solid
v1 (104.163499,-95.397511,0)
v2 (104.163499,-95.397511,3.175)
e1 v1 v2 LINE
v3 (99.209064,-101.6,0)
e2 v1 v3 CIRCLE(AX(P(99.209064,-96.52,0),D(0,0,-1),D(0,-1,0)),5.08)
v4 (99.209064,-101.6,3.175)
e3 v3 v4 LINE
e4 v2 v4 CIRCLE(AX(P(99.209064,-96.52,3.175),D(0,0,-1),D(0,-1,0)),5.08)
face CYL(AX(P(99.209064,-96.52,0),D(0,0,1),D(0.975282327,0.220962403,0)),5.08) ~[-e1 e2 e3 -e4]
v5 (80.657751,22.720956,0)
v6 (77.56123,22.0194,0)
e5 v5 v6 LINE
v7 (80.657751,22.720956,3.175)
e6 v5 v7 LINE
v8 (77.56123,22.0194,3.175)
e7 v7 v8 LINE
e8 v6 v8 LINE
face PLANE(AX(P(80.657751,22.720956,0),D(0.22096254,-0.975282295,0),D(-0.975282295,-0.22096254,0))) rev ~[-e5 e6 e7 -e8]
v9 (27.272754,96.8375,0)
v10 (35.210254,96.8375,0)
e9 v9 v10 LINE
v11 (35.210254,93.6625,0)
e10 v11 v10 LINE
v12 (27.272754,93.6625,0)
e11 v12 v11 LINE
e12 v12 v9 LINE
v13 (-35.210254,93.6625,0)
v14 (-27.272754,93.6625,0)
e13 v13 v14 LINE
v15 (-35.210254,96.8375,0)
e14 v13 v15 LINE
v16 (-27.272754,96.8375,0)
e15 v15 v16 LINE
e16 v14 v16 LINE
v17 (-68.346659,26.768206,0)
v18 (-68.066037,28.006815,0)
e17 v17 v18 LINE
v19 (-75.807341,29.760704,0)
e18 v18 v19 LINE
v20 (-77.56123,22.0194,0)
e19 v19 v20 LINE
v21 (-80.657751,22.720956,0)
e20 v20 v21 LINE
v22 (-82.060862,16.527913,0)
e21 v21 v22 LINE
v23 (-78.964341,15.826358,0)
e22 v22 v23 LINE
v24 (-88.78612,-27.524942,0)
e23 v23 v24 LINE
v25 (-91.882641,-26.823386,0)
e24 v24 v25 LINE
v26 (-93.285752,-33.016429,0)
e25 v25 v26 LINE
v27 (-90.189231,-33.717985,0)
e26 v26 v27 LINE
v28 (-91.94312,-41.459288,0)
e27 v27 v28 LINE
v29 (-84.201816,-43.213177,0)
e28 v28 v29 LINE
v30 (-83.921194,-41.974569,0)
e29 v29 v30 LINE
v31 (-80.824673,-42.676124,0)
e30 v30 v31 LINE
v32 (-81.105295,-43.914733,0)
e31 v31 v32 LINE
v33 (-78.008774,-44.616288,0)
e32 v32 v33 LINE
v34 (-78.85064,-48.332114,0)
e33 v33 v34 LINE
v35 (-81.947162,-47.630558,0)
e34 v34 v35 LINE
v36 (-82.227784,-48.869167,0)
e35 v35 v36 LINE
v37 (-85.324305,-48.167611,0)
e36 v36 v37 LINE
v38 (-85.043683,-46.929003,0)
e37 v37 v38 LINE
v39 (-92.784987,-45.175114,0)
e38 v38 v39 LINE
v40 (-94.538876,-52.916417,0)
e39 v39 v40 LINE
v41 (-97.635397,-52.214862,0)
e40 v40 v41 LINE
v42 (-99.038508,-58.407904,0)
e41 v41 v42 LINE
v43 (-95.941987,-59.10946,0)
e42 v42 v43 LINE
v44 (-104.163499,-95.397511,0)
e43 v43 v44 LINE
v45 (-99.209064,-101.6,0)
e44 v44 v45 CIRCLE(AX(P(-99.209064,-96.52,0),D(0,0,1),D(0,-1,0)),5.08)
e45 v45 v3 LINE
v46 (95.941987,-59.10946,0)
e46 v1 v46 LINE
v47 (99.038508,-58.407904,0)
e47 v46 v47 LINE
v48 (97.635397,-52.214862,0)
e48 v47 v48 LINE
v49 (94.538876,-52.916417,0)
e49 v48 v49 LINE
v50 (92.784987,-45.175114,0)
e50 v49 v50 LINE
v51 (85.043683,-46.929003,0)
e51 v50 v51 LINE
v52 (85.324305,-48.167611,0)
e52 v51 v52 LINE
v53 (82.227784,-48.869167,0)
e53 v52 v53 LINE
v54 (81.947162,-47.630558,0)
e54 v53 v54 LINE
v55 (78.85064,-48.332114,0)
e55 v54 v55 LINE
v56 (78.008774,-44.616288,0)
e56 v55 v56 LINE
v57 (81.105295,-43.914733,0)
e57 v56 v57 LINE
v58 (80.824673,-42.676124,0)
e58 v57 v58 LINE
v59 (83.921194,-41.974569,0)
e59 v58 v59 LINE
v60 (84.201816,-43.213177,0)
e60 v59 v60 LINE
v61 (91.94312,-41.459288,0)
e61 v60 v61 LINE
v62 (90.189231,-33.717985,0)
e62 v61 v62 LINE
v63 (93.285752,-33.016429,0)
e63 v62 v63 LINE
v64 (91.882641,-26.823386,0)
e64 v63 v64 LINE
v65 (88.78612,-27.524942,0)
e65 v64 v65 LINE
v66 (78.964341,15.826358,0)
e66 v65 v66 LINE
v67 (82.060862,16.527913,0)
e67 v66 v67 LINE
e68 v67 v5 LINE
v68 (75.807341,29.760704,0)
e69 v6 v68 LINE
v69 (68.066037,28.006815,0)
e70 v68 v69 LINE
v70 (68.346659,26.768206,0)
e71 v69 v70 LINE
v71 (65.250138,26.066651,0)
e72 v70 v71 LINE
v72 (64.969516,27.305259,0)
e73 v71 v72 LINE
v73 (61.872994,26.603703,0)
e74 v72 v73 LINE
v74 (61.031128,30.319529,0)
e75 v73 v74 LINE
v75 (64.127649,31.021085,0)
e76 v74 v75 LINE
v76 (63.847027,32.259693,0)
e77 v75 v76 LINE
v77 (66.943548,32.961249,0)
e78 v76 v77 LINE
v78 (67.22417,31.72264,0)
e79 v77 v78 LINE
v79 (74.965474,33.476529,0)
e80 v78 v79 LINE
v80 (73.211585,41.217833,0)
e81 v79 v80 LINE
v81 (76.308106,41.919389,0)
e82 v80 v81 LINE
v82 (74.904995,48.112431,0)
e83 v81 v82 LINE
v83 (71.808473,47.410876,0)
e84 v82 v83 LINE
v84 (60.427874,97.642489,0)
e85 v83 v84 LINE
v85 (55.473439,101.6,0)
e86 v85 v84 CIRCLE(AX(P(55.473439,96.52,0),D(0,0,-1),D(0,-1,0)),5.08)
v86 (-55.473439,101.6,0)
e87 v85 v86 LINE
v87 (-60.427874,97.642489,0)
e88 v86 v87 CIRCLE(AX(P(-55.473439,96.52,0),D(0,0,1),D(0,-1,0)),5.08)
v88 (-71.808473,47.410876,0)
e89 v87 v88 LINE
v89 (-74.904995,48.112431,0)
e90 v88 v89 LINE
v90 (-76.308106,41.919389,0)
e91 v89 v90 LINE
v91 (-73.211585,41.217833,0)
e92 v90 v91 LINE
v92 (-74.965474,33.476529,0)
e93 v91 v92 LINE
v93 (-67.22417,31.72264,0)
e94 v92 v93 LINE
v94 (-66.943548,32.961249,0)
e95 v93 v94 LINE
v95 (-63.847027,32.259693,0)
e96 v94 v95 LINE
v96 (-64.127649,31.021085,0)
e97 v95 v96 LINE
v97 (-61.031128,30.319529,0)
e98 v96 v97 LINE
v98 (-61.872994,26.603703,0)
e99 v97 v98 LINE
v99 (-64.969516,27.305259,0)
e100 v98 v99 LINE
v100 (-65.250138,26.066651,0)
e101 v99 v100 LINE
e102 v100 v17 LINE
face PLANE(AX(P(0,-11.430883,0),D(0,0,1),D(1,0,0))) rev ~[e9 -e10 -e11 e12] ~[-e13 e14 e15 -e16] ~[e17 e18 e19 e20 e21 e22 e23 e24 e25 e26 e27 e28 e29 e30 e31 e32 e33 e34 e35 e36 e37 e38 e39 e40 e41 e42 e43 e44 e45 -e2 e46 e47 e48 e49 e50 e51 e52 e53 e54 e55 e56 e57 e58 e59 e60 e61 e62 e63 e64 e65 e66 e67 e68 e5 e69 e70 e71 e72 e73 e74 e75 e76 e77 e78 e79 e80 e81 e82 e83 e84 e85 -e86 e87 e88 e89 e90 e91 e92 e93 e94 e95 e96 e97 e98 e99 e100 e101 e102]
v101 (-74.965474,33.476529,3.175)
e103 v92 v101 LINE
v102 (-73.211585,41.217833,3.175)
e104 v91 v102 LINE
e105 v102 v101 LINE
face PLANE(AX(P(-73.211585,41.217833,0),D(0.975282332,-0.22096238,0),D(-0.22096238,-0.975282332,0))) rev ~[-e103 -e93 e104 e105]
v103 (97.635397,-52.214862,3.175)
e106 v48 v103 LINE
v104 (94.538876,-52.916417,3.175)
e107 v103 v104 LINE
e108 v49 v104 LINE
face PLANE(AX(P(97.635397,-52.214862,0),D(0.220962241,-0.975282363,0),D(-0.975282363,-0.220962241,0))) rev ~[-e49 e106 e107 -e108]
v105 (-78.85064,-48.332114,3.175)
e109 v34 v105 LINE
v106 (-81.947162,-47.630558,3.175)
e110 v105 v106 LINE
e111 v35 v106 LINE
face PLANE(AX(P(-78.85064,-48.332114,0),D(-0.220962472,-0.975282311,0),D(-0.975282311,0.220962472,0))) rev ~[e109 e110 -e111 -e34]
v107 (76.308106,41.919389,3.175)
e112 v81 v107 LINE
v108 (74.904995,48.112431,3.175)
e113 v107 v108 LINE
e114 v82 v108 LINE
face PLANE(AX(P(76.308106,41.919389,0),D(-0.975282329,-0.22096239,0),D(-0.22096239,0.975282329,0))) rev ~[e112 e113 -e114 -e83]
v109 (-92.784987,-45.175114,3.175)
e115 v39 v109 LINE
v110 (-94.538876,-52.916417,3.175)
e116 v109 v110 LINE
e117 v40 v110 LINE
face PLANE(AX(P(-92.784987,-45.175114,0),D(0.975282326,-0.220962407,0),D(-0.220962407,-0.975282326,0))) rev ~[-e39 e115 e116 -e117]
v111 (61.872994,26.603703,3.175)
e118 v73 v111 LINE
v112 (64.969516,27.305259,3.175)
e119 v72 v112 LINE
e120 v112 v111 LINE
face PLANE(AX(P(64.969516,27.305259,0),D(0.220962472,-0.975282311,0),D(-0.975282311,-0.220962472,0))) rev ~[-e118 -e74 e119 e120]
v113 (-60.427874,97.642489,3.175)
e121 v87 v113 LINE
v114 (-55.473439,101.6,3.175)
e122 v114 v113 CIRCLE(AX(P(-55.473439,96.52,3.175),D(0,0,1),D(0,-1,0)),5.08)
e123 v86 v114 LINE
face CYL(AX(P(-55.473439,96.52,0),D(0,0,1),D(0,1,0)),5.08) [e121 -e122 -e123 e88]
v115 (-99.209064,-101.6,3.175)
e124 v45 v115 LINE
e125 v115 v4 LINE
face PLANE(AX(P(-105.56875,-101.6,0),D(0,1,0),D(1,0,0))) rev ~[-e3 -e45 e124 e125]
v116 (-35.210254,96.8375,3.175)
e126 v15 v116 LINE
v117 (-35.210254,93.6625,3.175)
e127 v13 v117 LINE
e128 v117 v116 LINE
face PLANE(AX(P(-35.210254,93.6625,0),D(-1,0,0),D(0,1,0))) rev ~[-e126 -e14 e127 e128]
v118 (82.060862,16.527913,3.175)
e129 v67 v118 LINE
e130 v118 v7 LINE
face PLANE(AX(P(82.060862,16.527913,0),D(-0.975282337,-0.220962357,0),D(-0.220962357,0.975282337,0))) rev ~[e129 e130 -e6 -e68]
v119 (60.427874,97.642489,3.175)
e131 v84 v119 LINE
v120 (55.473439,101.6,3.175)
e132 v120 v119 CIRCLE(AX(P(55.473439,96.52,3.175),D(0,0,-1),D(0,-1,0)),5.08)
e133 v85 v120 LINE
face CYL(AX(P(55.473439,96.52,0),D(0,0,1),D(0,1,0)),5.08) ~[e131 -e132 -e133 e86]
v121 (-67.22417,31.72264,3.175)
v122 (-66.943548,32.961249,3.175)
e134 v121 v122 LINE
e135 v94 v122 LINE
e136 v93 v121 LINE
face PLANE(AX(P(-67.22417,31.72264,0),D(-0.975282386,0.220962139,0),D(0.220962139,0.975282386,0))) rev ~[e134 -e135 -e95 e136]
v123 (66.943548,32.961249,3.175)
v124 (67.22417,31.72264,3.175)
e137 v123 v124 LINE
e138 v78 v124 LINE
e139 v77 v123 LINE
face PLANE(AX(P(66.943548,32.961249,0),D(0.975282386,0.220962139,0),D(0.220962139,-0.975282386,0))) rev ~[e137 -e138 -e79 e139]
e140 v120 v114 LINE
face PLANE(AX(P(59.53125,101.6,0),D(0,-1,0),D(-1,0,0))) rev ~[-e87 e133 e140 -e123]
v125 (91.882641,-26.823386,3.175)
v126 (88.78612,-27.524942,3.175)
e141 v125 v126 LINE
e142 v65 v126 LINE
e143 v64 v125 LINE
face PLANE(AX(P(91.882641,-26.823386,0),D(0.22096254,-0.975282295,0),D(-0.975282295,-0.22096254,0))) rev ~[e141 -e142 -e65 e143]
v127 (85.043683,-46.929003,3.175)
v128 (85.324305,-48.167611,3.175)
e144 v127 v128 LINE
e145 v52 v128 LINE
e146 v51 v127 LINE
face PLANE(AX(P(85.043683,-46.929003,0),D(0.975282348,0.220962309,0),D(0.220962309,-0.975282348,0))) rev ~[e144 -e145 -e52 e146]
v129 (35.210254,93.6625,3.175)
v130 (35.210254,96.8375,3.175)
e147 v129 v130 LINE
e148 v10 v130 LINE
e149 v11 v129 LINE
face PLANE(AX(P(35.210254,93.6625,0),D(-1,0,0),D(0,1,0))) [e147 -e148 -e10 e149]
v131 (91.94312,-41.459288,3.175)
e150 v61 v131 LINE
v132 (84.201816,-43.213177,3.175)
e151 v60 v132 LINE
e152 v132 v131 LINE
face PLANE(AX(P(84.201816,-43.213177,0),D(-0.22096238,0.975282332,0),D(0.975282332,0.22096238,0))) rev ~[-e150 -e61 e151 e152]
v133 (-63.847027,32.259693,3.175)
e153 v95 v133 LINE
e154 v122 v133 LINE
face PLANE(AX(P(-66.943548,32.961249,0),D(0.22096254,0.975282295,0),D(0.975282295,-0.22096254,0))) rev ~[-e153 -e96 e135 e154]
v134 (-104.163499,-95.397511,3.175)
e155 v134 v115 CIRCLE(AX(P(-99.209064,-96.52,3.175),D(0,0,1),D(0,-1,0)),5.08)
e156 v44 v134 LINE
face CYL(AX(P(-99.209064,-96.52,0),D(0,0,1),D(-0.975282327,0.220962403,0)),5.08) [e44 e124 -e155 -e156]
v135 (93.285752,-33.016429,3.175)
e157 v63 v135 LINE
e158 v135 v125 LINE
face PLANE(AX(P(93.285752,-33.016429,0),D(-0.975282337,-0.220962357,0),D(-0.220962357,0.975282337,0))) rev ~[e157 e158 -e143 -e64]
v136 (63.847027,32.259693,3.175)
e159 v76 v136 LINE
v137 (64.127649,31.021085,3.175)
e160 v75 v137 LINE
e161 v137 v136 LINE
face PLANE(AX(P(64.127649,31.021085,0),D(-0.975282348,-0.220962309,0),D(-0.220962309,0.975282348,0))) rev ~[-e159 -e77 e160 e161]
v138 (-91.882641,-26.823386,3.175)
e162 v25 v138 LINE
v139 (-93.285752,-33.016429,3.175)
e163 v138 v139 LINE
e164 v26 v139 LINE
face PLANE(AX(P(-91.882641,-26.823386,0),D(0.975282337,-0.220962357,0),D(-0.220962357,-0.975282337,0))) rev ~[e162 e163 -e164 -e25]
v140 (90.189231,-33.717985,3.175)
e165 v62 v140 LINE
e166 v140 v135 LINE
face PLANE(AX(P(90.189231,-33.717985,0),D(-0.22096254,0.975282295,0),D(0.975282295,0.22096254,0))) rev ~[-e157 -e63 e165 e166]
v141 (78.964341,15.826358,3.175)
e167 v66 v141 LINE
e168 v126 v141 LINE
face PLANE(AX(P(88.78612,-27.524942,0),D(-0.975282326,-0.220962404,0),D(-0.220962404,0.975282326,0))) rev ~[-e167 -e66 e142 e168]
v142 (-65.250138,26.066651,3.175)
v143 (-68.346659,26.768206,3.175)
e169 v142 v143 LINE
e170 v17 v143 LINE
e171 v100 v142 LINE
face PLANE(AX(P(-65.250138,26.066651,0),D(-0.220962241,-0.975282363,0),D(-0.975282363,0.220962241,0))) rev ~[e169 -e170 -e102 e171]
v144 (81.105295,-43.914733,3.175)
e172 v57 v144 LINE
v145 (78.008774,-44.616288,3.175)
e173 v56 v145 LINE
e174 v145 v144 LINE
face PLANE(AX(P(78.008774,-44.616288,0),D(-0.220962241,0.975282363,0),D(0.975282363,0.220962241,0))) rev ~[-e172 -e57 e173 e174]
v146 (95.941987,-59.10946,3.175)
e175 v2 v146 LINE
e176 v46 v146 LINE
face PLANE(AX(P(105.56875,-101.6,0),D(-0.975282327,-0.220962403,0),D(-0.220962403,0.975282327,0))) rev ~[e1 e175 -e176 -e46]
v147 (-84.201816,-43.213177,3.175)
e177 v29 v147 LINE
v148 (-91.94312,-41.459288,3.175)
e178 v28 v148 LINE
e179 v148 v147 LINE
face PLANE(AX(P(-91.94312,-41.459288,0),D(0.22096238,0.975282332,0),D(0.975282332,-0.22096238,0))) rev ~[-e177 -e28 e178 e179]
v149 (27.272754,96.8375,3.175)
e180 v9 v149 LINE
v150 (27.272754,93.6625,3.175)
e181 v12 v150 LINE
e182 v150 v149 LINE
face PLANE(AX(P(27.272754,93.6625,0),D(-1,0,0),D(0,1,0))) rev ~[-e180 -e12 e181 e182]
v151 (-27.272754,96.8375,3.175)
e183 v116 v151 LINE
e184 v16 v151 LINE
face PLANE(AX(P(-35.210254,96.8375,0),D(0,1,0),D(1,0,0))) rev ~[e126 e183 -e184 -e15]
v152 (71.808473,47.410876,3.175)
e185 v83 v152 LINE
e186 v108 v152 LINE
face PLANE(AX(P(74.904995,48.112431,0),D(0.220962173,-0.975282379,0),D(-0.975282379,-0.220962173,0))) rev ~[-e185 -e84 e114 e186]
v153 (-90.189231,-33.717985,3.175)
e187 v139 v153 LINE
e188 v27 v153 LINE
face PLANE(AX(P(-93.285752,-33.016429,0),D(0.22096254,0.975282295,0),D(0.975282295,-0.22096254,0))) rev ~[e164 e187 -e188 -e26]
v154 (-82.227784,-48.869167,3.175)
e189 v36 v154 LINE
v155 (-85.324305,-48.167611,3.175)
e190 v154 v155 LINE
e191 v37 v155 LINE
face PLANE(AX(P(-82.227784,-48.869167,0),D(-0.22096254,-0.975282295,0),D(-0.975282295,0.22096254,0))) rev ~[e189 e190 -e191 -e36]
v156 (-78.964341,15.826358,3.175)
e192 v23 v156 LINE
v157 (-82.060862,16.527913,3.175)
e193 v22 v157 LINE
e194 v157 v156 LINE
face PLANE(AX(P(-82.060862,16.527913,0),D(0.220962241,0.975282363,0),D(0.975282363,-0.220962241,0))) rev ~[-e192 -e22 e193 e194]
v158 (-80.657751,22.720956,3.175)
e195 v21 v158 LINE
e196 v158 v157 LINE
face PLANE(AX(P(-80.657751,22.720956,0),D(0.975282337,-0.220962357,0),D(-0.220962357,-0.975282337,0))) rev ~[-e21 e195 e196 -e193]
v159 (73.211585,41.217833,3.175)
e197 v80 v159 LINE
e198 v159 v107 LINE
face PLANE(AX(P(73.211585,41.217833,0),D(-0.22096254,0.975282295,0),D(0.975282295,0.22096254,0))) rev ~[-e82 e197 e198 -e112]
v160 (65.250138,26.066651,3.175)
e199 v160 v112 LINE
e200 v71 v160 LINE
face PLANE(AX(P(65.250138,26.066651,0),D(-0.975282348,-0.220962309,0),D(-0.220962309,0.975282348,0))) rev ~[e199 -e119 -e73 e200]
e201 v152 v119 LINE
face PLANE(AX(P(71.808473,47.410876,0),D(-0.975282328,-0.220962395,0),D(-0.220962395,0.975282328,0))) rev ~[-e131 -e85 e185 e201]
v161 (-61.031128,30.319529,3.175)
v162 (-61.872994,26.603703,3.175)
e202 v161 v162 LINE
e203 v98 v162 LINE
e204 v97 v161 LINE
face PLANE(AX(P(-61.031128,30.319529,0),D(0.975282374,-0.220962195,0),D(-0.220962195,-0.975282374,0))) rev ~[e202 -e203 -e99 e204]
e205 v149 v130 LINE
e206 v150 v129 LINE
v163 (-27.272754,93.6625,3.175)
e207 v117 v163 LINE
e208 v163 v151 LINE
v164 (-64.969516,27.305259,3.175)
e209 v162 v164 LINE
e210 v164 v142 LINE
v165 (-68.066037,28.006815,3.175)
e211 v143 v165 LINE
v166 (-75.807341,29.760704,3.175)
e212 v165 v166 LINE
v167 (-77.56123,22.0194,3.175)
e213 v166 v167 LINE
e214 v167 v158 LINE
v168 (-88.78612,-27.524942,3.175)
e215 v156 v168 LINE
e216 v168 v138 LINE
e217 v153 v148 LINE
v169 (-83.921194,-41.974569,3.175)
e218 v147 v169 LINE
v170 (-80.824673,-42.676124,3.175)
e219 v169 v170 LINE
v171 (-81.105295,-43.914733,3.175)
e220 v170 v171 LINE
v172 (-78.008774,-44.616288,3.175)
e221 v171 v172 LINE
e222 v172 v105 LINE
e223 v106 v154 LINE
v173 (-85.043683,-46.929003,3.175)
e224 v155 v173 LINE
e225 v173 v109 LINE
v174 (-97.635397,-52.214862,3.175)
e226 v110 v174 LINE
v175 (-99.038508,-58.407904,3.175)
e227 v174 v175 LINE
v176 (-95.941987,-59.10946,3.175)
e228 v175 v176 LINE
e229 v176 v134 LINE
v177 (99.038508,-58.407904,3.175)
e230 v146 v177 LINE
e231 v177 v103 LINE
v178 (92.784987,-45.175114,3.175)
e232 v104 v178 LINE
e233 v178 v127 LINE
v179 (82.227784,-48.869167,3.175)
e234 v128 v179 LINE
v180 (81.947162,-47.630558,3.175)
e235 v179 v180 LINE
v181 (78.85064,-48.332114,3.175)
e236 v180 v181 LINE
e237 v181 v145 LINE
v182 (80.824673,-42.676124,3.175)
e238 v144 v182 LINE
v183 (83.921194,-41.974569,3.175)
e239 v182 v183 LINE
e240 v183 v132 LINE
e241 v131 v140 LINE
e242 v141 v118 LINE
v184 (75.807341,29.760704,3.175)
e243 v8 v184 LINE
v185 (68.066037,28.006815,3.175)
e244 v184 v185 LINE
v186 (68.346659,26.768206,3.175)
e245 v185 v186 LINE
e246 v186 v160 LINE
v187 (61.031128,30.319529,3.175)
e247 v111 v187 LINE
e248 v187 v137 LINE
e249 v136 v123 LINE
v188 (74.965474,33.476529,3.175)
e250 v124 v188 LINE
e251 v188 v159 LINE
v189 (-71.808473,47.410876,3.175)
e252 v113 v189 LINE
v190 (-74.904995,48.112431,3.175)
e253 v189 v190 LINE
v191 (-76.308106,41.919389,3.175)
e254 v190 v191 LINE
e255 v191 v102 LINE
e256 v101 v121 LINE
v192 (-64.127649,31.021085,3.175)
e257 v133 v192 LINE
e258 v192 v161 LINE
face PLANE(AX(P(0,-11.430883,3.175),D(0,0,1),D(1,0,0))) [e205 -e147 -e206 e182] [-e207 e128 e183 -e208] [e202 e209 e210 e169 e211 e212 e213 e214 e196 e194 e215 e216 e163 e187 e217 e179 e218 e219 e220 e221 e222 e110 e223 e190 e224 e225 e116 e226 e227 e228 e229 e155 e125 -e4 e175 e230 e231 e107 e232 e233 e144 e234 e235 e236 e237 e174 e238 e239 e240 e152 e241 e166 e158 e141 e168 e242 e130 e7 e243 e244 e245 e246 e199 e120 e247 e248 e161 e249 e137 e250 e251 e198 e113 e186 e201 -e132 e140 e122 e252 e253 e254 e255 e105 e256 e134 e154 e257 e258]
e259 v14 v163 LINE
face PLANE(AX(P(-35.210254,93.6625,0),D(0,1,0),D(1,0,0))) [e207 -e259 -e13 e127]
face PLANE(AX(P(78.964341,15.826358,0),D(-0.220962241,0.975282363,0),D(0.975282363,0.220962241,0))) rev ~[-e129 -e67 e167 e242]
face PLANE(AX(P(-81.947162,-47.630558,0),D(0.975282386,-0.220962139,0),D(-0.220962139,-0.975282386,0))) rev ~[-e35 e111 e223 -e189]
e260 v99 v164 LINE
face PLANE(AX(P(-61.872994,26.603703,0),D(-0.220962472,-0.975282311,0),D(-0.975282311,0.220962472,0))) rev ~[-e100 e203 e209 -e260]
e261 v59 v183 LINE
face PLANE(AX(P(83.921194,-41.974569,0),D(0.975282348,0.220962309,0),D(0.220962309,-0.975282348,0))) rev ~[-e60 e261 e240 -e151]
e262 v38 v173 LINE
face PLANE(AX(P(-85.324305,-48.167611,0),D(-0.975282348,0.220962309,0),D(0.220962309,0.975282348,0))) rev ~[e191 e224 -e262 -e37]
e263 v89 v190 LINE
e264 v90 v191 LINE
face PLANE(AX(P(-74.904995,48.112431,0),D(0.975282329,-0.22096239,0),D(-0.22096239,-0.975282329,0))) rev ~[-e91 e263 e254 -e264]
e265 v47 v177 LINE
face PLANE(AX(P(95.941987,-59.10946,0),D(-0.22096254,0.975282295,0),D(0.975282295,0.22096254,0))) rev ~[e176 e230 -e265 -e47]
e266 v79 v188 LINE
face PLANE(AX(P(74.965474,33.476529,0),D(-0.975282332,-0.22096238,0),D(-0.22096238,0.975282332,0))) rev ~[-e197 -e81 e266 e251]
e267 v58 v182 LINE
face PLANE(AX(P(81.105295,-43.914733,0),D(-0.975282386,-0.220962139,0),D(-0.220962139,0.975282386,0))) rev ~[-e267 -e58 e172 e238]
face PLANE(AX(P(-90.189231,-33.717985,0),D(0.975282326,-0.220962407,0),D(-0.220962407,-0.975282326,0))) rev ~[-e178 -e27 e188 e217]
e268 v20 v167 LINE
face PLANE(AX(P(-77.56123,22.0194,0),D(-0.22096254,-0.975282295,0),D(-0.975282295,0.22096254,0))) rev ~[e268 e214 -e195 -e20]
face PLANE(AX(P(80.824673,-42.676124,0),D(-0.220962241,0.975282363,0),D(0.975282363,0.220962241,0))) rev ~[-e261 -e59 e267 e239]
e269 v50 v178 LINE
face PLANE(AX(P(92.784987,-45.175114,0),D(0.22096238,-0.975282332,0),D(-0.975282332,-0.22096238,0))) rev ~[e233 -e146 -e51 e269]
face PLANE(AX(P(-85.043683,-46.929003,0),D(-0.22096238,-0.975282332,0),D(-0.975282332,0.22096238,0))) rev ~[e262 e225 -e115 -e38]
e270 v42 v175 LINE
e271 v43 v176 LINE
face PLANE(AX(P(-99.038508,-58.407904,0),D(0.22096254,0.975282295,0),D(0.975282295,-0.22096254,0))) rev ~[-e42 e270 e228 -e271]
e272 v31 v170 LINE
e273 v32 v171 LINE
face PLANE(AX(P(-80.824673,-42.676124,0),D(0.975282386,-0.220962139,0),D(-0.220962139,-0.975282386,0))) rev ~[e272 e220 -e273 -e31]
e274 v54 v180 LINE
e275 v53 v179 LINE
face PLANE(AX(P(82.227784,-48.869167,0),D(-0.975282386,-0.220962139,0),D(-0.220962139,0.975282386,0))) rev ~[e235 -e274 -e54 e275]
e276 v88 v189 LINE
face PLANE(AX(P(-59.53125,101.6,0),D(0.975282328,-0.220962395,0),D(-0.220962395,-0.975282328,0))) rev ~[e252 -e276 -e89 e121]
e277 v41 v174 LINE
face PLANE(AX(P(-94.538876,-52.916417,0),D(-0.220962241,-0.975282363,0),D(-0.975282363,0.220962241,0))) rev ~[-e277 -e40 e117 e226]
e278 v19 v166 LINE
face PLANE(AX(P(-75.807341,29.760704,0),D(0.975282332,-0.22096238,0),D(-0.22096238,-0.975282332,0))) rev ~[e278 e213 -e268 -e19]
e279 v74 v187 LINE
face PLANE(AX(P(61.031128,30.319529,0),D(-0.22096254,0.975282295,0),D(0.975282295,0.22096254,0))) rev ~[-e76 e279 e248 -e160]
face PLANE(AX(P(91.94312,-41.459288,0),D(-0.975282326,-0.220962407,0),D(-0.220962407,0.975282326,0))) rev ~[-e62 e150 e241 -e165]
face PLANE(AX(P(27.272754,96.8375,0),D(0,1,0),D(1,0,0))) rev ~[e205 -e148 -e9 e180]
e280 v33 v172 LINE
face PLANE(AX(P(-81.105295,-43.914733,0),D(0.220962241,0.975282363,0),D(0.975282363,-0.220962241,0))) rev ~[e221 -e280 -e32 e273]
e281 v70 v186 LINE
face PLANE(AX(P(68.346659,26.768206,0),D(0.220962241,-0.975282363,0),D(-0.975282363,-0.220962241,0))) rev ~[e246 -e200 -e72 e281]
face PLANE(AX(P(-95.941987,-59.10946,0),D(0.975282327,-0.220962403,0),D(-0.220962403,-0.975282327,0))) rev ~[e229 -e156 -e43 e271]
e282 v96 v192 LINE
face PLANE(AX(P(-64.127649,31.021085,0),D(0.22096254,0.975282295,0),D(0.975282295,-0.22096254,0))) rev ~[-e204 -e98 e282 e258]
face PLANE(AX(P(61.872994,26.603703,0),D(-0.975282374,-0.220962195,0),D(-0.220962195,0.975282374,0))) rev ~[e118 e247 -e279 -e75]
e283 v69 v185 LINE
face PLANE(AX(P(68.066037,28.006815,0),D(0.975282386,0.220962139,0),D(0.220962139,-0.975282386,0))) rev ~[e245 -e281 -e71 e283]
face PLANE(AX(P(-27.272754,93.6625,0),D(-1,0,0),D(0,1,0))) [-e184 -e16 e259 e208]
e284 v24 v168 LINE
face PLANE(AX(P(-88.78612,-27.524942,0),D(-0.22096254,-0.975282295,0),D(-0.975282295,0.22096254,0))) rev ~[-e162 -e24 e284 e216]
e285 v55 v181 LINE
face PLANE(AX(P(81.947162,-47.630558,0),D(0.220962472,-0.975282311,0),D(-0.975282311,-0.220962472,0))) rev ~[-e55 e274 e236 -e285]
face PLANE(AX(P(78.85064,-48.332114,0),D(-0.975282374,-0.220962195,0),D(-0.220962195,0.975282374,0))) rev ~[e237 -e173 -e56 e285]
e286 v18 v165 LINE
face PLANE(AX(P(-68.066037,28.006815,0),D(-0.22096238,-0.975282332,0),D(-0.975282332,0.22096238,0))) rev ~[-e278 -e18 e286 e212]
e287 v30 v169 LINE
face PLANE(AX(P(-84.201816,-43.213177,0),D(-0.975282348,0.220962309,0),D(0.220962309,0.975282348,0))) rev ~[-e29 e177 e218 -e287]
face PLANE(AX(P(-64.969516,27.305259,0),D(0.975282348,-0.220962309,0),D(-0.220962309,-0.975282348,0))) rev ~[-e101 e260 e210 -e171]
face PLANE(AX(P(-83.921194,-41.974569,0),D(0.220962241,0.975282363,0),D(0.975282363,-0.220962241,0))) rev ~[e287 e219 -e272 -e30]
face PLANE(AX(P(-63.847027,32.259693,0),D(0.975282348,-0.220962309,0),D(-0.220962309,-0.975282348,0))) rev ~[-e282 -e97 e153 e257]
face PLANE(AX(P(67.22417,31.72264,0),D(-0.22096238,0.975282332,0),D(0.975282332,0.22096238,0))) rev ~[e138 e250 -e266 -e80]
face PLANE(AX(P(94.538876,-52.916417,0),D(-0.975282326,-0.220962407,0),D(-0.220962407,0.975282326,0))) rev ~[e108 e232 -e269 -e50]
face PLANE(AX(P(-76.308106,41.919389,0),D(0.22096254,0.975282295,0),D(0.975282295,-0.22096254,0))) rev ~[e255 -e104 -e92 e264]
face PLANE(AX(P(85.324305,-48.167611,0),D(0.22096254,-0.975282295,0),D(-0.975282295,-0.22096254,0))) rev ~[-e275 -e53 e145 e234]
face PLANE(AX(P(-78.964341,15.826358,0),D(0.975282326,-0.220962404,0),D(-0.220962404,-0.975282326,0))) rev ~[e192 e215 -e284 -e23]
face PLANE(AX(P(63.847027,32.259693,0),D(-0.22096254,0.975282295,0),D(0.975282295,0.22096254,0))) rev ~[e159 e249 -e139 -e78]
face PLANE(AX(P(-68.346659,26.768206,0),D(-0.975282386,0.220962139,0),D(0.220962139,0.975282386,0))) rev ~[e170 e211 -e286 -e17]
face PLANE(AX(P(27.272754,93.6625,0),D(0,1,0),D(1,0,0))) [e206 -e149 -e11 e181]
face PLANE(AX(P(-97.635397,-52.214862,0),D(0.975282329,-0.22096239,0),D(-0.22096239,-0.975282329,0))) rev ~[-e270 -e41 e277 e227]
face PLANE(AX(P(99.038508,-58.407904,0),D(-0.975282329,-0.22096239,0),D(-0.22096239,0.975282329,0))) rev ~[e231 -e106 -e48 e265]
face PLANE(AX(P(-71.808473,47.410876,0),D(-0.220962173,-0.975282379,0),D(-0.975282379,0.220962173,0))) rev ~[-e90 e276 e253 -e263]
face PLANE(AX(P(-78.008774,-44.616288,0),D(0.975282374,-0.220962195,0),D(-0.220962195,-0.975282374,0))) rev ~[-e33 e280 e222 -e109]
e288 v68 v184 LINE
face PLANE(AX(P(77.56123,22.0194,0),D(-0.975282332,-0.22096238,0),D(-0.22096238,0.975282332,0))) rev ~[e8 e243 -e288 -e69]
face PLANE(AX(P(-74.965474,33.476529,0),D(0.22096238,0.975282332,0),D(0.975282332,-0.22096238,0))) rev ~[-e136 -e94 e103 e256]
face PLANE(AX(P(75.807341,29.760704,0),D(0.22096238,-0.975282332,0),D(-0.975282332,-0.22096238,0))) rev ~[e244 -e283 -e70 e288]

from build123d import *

# Parameters (mm, degrees)
F0_W     = 7.9375
F0_H     = 3.175
F1_DEPTH = 3.175
F2_R     = 5.08


with BuildPart() as f1:
    # F0 (on Top) → F1 (new body)
    with BuildSketch(Plane.XY):
        Polygon((59.53125, 101.6), (-59.53125, 101.6), (-71.808473, 47.410876), (-74.904995, 48.112431), (-76.308106, 41.919389), (-73.211585, 41.217833), (-74.965474, 33.476529), (-67.22417, 31.72264), (-66.943548, 32.961249), (-63.847027, 32.259693), (-64.127649, 31.021085), (-61.031128, 30.319529), (-61.872994, 26.603703), (-64.969516, 27.305259), (-65.250138, 26.066651), (-68.346659, 26.768206), (-68.066037, 28.006815), (-75.807341, 29.760704), (-77.56123, 22.0194), (-80.657751, 22.720956), (-82.060862, 16.527913), (-78.964341, 15.826358), (-88.78612, -27.524942), (-91.882641, -26.823386), (-93.285752, -33.016429), (-90.189231, -33.717985), (-91.94312, -41.459288), (-84.201816, -43.213177), (-83.921194, -41.974569), (-80.824673, -42.676124), (-81.105295, -43.914733), (-78.008774, -44.616288), (-78.85064, -48.332114), (-81.947162, -47.630558), (-82.227784, -48.869167), (-85.324305, -48.167611), (-85.043683, -46.929003), (-92.784987, -45.175114), (-94.538876, -52.916417), (-97.635397, -52.214862), (-99.038508, -58.407904), (-95.941987, -59.10946), (-105.56875, -101.6), (105.56875, -101.6), (95.941987, -59.10946), (99.038508, -58.407904), (97.635397, -52.214862), (94.538876, -52.916417), (92.784987, -45.175114), (85.043683, -46.929003), (85.324305, -48.167611), (82.227784, -48.869167), (81.947162, -47.630558), (78.85064, -48.332114), (78.008774, -44.616288), (81.105295, -43.914733), (80.824673, -42.676124), (83.921194, -41.974569), (84.201816, -43.213177), (91.94312, -41.459288), (90.189231, -33.717985), (93.285752, -33.016429), (91.882641, -26.823386), (88.78612, -27.524942), (78.964341, 15.826358), (82.060862, 16.527913), (80.657751, 22.720956), (77.56123, 22.0194), (75.807341, 29.760704), (68.066037, 28.006815), (68.346659, 26.768206), (65.250138, 26.066651), (64.969516, 27.305259), (61.872994, 26.603703), (61.031128, 30.319529), (64.127649, 31.021085), (63.847027, 32.259693), (66.943548, 32.961249), (67.22417, 31.72264), (74.965474, 33.476529), (73.211585, 41.217833), (76.308106, 41.919389), (74.904995, 48.112431), (71.808473, 47.410876), align=None)
        with Locations((-31.241504, 95.25)):
            Rectangle(F0_W, F0_H, mode=Mode.SUBTRACT)
        with Locations((31.241504, 95.25)):
            Rectangle(F0_W, F0_H, mode=Mode.SUBTRACT)
    extrude(amount=F1_DEPTH)

    # F2
    f2_edges = [f1.edges().sort_by_distance(p)[0] for p in [
        (-59.53125, 101.6, 1.5875),
        (59.53125, 101.6, 1.5875),
        (105.56875, -101.6, 1.5875),
        (-105.56875, -101.6, 1.5875),
    ]]
    fillet(f2_edges, radius=F2_R)


solid = f1.part
